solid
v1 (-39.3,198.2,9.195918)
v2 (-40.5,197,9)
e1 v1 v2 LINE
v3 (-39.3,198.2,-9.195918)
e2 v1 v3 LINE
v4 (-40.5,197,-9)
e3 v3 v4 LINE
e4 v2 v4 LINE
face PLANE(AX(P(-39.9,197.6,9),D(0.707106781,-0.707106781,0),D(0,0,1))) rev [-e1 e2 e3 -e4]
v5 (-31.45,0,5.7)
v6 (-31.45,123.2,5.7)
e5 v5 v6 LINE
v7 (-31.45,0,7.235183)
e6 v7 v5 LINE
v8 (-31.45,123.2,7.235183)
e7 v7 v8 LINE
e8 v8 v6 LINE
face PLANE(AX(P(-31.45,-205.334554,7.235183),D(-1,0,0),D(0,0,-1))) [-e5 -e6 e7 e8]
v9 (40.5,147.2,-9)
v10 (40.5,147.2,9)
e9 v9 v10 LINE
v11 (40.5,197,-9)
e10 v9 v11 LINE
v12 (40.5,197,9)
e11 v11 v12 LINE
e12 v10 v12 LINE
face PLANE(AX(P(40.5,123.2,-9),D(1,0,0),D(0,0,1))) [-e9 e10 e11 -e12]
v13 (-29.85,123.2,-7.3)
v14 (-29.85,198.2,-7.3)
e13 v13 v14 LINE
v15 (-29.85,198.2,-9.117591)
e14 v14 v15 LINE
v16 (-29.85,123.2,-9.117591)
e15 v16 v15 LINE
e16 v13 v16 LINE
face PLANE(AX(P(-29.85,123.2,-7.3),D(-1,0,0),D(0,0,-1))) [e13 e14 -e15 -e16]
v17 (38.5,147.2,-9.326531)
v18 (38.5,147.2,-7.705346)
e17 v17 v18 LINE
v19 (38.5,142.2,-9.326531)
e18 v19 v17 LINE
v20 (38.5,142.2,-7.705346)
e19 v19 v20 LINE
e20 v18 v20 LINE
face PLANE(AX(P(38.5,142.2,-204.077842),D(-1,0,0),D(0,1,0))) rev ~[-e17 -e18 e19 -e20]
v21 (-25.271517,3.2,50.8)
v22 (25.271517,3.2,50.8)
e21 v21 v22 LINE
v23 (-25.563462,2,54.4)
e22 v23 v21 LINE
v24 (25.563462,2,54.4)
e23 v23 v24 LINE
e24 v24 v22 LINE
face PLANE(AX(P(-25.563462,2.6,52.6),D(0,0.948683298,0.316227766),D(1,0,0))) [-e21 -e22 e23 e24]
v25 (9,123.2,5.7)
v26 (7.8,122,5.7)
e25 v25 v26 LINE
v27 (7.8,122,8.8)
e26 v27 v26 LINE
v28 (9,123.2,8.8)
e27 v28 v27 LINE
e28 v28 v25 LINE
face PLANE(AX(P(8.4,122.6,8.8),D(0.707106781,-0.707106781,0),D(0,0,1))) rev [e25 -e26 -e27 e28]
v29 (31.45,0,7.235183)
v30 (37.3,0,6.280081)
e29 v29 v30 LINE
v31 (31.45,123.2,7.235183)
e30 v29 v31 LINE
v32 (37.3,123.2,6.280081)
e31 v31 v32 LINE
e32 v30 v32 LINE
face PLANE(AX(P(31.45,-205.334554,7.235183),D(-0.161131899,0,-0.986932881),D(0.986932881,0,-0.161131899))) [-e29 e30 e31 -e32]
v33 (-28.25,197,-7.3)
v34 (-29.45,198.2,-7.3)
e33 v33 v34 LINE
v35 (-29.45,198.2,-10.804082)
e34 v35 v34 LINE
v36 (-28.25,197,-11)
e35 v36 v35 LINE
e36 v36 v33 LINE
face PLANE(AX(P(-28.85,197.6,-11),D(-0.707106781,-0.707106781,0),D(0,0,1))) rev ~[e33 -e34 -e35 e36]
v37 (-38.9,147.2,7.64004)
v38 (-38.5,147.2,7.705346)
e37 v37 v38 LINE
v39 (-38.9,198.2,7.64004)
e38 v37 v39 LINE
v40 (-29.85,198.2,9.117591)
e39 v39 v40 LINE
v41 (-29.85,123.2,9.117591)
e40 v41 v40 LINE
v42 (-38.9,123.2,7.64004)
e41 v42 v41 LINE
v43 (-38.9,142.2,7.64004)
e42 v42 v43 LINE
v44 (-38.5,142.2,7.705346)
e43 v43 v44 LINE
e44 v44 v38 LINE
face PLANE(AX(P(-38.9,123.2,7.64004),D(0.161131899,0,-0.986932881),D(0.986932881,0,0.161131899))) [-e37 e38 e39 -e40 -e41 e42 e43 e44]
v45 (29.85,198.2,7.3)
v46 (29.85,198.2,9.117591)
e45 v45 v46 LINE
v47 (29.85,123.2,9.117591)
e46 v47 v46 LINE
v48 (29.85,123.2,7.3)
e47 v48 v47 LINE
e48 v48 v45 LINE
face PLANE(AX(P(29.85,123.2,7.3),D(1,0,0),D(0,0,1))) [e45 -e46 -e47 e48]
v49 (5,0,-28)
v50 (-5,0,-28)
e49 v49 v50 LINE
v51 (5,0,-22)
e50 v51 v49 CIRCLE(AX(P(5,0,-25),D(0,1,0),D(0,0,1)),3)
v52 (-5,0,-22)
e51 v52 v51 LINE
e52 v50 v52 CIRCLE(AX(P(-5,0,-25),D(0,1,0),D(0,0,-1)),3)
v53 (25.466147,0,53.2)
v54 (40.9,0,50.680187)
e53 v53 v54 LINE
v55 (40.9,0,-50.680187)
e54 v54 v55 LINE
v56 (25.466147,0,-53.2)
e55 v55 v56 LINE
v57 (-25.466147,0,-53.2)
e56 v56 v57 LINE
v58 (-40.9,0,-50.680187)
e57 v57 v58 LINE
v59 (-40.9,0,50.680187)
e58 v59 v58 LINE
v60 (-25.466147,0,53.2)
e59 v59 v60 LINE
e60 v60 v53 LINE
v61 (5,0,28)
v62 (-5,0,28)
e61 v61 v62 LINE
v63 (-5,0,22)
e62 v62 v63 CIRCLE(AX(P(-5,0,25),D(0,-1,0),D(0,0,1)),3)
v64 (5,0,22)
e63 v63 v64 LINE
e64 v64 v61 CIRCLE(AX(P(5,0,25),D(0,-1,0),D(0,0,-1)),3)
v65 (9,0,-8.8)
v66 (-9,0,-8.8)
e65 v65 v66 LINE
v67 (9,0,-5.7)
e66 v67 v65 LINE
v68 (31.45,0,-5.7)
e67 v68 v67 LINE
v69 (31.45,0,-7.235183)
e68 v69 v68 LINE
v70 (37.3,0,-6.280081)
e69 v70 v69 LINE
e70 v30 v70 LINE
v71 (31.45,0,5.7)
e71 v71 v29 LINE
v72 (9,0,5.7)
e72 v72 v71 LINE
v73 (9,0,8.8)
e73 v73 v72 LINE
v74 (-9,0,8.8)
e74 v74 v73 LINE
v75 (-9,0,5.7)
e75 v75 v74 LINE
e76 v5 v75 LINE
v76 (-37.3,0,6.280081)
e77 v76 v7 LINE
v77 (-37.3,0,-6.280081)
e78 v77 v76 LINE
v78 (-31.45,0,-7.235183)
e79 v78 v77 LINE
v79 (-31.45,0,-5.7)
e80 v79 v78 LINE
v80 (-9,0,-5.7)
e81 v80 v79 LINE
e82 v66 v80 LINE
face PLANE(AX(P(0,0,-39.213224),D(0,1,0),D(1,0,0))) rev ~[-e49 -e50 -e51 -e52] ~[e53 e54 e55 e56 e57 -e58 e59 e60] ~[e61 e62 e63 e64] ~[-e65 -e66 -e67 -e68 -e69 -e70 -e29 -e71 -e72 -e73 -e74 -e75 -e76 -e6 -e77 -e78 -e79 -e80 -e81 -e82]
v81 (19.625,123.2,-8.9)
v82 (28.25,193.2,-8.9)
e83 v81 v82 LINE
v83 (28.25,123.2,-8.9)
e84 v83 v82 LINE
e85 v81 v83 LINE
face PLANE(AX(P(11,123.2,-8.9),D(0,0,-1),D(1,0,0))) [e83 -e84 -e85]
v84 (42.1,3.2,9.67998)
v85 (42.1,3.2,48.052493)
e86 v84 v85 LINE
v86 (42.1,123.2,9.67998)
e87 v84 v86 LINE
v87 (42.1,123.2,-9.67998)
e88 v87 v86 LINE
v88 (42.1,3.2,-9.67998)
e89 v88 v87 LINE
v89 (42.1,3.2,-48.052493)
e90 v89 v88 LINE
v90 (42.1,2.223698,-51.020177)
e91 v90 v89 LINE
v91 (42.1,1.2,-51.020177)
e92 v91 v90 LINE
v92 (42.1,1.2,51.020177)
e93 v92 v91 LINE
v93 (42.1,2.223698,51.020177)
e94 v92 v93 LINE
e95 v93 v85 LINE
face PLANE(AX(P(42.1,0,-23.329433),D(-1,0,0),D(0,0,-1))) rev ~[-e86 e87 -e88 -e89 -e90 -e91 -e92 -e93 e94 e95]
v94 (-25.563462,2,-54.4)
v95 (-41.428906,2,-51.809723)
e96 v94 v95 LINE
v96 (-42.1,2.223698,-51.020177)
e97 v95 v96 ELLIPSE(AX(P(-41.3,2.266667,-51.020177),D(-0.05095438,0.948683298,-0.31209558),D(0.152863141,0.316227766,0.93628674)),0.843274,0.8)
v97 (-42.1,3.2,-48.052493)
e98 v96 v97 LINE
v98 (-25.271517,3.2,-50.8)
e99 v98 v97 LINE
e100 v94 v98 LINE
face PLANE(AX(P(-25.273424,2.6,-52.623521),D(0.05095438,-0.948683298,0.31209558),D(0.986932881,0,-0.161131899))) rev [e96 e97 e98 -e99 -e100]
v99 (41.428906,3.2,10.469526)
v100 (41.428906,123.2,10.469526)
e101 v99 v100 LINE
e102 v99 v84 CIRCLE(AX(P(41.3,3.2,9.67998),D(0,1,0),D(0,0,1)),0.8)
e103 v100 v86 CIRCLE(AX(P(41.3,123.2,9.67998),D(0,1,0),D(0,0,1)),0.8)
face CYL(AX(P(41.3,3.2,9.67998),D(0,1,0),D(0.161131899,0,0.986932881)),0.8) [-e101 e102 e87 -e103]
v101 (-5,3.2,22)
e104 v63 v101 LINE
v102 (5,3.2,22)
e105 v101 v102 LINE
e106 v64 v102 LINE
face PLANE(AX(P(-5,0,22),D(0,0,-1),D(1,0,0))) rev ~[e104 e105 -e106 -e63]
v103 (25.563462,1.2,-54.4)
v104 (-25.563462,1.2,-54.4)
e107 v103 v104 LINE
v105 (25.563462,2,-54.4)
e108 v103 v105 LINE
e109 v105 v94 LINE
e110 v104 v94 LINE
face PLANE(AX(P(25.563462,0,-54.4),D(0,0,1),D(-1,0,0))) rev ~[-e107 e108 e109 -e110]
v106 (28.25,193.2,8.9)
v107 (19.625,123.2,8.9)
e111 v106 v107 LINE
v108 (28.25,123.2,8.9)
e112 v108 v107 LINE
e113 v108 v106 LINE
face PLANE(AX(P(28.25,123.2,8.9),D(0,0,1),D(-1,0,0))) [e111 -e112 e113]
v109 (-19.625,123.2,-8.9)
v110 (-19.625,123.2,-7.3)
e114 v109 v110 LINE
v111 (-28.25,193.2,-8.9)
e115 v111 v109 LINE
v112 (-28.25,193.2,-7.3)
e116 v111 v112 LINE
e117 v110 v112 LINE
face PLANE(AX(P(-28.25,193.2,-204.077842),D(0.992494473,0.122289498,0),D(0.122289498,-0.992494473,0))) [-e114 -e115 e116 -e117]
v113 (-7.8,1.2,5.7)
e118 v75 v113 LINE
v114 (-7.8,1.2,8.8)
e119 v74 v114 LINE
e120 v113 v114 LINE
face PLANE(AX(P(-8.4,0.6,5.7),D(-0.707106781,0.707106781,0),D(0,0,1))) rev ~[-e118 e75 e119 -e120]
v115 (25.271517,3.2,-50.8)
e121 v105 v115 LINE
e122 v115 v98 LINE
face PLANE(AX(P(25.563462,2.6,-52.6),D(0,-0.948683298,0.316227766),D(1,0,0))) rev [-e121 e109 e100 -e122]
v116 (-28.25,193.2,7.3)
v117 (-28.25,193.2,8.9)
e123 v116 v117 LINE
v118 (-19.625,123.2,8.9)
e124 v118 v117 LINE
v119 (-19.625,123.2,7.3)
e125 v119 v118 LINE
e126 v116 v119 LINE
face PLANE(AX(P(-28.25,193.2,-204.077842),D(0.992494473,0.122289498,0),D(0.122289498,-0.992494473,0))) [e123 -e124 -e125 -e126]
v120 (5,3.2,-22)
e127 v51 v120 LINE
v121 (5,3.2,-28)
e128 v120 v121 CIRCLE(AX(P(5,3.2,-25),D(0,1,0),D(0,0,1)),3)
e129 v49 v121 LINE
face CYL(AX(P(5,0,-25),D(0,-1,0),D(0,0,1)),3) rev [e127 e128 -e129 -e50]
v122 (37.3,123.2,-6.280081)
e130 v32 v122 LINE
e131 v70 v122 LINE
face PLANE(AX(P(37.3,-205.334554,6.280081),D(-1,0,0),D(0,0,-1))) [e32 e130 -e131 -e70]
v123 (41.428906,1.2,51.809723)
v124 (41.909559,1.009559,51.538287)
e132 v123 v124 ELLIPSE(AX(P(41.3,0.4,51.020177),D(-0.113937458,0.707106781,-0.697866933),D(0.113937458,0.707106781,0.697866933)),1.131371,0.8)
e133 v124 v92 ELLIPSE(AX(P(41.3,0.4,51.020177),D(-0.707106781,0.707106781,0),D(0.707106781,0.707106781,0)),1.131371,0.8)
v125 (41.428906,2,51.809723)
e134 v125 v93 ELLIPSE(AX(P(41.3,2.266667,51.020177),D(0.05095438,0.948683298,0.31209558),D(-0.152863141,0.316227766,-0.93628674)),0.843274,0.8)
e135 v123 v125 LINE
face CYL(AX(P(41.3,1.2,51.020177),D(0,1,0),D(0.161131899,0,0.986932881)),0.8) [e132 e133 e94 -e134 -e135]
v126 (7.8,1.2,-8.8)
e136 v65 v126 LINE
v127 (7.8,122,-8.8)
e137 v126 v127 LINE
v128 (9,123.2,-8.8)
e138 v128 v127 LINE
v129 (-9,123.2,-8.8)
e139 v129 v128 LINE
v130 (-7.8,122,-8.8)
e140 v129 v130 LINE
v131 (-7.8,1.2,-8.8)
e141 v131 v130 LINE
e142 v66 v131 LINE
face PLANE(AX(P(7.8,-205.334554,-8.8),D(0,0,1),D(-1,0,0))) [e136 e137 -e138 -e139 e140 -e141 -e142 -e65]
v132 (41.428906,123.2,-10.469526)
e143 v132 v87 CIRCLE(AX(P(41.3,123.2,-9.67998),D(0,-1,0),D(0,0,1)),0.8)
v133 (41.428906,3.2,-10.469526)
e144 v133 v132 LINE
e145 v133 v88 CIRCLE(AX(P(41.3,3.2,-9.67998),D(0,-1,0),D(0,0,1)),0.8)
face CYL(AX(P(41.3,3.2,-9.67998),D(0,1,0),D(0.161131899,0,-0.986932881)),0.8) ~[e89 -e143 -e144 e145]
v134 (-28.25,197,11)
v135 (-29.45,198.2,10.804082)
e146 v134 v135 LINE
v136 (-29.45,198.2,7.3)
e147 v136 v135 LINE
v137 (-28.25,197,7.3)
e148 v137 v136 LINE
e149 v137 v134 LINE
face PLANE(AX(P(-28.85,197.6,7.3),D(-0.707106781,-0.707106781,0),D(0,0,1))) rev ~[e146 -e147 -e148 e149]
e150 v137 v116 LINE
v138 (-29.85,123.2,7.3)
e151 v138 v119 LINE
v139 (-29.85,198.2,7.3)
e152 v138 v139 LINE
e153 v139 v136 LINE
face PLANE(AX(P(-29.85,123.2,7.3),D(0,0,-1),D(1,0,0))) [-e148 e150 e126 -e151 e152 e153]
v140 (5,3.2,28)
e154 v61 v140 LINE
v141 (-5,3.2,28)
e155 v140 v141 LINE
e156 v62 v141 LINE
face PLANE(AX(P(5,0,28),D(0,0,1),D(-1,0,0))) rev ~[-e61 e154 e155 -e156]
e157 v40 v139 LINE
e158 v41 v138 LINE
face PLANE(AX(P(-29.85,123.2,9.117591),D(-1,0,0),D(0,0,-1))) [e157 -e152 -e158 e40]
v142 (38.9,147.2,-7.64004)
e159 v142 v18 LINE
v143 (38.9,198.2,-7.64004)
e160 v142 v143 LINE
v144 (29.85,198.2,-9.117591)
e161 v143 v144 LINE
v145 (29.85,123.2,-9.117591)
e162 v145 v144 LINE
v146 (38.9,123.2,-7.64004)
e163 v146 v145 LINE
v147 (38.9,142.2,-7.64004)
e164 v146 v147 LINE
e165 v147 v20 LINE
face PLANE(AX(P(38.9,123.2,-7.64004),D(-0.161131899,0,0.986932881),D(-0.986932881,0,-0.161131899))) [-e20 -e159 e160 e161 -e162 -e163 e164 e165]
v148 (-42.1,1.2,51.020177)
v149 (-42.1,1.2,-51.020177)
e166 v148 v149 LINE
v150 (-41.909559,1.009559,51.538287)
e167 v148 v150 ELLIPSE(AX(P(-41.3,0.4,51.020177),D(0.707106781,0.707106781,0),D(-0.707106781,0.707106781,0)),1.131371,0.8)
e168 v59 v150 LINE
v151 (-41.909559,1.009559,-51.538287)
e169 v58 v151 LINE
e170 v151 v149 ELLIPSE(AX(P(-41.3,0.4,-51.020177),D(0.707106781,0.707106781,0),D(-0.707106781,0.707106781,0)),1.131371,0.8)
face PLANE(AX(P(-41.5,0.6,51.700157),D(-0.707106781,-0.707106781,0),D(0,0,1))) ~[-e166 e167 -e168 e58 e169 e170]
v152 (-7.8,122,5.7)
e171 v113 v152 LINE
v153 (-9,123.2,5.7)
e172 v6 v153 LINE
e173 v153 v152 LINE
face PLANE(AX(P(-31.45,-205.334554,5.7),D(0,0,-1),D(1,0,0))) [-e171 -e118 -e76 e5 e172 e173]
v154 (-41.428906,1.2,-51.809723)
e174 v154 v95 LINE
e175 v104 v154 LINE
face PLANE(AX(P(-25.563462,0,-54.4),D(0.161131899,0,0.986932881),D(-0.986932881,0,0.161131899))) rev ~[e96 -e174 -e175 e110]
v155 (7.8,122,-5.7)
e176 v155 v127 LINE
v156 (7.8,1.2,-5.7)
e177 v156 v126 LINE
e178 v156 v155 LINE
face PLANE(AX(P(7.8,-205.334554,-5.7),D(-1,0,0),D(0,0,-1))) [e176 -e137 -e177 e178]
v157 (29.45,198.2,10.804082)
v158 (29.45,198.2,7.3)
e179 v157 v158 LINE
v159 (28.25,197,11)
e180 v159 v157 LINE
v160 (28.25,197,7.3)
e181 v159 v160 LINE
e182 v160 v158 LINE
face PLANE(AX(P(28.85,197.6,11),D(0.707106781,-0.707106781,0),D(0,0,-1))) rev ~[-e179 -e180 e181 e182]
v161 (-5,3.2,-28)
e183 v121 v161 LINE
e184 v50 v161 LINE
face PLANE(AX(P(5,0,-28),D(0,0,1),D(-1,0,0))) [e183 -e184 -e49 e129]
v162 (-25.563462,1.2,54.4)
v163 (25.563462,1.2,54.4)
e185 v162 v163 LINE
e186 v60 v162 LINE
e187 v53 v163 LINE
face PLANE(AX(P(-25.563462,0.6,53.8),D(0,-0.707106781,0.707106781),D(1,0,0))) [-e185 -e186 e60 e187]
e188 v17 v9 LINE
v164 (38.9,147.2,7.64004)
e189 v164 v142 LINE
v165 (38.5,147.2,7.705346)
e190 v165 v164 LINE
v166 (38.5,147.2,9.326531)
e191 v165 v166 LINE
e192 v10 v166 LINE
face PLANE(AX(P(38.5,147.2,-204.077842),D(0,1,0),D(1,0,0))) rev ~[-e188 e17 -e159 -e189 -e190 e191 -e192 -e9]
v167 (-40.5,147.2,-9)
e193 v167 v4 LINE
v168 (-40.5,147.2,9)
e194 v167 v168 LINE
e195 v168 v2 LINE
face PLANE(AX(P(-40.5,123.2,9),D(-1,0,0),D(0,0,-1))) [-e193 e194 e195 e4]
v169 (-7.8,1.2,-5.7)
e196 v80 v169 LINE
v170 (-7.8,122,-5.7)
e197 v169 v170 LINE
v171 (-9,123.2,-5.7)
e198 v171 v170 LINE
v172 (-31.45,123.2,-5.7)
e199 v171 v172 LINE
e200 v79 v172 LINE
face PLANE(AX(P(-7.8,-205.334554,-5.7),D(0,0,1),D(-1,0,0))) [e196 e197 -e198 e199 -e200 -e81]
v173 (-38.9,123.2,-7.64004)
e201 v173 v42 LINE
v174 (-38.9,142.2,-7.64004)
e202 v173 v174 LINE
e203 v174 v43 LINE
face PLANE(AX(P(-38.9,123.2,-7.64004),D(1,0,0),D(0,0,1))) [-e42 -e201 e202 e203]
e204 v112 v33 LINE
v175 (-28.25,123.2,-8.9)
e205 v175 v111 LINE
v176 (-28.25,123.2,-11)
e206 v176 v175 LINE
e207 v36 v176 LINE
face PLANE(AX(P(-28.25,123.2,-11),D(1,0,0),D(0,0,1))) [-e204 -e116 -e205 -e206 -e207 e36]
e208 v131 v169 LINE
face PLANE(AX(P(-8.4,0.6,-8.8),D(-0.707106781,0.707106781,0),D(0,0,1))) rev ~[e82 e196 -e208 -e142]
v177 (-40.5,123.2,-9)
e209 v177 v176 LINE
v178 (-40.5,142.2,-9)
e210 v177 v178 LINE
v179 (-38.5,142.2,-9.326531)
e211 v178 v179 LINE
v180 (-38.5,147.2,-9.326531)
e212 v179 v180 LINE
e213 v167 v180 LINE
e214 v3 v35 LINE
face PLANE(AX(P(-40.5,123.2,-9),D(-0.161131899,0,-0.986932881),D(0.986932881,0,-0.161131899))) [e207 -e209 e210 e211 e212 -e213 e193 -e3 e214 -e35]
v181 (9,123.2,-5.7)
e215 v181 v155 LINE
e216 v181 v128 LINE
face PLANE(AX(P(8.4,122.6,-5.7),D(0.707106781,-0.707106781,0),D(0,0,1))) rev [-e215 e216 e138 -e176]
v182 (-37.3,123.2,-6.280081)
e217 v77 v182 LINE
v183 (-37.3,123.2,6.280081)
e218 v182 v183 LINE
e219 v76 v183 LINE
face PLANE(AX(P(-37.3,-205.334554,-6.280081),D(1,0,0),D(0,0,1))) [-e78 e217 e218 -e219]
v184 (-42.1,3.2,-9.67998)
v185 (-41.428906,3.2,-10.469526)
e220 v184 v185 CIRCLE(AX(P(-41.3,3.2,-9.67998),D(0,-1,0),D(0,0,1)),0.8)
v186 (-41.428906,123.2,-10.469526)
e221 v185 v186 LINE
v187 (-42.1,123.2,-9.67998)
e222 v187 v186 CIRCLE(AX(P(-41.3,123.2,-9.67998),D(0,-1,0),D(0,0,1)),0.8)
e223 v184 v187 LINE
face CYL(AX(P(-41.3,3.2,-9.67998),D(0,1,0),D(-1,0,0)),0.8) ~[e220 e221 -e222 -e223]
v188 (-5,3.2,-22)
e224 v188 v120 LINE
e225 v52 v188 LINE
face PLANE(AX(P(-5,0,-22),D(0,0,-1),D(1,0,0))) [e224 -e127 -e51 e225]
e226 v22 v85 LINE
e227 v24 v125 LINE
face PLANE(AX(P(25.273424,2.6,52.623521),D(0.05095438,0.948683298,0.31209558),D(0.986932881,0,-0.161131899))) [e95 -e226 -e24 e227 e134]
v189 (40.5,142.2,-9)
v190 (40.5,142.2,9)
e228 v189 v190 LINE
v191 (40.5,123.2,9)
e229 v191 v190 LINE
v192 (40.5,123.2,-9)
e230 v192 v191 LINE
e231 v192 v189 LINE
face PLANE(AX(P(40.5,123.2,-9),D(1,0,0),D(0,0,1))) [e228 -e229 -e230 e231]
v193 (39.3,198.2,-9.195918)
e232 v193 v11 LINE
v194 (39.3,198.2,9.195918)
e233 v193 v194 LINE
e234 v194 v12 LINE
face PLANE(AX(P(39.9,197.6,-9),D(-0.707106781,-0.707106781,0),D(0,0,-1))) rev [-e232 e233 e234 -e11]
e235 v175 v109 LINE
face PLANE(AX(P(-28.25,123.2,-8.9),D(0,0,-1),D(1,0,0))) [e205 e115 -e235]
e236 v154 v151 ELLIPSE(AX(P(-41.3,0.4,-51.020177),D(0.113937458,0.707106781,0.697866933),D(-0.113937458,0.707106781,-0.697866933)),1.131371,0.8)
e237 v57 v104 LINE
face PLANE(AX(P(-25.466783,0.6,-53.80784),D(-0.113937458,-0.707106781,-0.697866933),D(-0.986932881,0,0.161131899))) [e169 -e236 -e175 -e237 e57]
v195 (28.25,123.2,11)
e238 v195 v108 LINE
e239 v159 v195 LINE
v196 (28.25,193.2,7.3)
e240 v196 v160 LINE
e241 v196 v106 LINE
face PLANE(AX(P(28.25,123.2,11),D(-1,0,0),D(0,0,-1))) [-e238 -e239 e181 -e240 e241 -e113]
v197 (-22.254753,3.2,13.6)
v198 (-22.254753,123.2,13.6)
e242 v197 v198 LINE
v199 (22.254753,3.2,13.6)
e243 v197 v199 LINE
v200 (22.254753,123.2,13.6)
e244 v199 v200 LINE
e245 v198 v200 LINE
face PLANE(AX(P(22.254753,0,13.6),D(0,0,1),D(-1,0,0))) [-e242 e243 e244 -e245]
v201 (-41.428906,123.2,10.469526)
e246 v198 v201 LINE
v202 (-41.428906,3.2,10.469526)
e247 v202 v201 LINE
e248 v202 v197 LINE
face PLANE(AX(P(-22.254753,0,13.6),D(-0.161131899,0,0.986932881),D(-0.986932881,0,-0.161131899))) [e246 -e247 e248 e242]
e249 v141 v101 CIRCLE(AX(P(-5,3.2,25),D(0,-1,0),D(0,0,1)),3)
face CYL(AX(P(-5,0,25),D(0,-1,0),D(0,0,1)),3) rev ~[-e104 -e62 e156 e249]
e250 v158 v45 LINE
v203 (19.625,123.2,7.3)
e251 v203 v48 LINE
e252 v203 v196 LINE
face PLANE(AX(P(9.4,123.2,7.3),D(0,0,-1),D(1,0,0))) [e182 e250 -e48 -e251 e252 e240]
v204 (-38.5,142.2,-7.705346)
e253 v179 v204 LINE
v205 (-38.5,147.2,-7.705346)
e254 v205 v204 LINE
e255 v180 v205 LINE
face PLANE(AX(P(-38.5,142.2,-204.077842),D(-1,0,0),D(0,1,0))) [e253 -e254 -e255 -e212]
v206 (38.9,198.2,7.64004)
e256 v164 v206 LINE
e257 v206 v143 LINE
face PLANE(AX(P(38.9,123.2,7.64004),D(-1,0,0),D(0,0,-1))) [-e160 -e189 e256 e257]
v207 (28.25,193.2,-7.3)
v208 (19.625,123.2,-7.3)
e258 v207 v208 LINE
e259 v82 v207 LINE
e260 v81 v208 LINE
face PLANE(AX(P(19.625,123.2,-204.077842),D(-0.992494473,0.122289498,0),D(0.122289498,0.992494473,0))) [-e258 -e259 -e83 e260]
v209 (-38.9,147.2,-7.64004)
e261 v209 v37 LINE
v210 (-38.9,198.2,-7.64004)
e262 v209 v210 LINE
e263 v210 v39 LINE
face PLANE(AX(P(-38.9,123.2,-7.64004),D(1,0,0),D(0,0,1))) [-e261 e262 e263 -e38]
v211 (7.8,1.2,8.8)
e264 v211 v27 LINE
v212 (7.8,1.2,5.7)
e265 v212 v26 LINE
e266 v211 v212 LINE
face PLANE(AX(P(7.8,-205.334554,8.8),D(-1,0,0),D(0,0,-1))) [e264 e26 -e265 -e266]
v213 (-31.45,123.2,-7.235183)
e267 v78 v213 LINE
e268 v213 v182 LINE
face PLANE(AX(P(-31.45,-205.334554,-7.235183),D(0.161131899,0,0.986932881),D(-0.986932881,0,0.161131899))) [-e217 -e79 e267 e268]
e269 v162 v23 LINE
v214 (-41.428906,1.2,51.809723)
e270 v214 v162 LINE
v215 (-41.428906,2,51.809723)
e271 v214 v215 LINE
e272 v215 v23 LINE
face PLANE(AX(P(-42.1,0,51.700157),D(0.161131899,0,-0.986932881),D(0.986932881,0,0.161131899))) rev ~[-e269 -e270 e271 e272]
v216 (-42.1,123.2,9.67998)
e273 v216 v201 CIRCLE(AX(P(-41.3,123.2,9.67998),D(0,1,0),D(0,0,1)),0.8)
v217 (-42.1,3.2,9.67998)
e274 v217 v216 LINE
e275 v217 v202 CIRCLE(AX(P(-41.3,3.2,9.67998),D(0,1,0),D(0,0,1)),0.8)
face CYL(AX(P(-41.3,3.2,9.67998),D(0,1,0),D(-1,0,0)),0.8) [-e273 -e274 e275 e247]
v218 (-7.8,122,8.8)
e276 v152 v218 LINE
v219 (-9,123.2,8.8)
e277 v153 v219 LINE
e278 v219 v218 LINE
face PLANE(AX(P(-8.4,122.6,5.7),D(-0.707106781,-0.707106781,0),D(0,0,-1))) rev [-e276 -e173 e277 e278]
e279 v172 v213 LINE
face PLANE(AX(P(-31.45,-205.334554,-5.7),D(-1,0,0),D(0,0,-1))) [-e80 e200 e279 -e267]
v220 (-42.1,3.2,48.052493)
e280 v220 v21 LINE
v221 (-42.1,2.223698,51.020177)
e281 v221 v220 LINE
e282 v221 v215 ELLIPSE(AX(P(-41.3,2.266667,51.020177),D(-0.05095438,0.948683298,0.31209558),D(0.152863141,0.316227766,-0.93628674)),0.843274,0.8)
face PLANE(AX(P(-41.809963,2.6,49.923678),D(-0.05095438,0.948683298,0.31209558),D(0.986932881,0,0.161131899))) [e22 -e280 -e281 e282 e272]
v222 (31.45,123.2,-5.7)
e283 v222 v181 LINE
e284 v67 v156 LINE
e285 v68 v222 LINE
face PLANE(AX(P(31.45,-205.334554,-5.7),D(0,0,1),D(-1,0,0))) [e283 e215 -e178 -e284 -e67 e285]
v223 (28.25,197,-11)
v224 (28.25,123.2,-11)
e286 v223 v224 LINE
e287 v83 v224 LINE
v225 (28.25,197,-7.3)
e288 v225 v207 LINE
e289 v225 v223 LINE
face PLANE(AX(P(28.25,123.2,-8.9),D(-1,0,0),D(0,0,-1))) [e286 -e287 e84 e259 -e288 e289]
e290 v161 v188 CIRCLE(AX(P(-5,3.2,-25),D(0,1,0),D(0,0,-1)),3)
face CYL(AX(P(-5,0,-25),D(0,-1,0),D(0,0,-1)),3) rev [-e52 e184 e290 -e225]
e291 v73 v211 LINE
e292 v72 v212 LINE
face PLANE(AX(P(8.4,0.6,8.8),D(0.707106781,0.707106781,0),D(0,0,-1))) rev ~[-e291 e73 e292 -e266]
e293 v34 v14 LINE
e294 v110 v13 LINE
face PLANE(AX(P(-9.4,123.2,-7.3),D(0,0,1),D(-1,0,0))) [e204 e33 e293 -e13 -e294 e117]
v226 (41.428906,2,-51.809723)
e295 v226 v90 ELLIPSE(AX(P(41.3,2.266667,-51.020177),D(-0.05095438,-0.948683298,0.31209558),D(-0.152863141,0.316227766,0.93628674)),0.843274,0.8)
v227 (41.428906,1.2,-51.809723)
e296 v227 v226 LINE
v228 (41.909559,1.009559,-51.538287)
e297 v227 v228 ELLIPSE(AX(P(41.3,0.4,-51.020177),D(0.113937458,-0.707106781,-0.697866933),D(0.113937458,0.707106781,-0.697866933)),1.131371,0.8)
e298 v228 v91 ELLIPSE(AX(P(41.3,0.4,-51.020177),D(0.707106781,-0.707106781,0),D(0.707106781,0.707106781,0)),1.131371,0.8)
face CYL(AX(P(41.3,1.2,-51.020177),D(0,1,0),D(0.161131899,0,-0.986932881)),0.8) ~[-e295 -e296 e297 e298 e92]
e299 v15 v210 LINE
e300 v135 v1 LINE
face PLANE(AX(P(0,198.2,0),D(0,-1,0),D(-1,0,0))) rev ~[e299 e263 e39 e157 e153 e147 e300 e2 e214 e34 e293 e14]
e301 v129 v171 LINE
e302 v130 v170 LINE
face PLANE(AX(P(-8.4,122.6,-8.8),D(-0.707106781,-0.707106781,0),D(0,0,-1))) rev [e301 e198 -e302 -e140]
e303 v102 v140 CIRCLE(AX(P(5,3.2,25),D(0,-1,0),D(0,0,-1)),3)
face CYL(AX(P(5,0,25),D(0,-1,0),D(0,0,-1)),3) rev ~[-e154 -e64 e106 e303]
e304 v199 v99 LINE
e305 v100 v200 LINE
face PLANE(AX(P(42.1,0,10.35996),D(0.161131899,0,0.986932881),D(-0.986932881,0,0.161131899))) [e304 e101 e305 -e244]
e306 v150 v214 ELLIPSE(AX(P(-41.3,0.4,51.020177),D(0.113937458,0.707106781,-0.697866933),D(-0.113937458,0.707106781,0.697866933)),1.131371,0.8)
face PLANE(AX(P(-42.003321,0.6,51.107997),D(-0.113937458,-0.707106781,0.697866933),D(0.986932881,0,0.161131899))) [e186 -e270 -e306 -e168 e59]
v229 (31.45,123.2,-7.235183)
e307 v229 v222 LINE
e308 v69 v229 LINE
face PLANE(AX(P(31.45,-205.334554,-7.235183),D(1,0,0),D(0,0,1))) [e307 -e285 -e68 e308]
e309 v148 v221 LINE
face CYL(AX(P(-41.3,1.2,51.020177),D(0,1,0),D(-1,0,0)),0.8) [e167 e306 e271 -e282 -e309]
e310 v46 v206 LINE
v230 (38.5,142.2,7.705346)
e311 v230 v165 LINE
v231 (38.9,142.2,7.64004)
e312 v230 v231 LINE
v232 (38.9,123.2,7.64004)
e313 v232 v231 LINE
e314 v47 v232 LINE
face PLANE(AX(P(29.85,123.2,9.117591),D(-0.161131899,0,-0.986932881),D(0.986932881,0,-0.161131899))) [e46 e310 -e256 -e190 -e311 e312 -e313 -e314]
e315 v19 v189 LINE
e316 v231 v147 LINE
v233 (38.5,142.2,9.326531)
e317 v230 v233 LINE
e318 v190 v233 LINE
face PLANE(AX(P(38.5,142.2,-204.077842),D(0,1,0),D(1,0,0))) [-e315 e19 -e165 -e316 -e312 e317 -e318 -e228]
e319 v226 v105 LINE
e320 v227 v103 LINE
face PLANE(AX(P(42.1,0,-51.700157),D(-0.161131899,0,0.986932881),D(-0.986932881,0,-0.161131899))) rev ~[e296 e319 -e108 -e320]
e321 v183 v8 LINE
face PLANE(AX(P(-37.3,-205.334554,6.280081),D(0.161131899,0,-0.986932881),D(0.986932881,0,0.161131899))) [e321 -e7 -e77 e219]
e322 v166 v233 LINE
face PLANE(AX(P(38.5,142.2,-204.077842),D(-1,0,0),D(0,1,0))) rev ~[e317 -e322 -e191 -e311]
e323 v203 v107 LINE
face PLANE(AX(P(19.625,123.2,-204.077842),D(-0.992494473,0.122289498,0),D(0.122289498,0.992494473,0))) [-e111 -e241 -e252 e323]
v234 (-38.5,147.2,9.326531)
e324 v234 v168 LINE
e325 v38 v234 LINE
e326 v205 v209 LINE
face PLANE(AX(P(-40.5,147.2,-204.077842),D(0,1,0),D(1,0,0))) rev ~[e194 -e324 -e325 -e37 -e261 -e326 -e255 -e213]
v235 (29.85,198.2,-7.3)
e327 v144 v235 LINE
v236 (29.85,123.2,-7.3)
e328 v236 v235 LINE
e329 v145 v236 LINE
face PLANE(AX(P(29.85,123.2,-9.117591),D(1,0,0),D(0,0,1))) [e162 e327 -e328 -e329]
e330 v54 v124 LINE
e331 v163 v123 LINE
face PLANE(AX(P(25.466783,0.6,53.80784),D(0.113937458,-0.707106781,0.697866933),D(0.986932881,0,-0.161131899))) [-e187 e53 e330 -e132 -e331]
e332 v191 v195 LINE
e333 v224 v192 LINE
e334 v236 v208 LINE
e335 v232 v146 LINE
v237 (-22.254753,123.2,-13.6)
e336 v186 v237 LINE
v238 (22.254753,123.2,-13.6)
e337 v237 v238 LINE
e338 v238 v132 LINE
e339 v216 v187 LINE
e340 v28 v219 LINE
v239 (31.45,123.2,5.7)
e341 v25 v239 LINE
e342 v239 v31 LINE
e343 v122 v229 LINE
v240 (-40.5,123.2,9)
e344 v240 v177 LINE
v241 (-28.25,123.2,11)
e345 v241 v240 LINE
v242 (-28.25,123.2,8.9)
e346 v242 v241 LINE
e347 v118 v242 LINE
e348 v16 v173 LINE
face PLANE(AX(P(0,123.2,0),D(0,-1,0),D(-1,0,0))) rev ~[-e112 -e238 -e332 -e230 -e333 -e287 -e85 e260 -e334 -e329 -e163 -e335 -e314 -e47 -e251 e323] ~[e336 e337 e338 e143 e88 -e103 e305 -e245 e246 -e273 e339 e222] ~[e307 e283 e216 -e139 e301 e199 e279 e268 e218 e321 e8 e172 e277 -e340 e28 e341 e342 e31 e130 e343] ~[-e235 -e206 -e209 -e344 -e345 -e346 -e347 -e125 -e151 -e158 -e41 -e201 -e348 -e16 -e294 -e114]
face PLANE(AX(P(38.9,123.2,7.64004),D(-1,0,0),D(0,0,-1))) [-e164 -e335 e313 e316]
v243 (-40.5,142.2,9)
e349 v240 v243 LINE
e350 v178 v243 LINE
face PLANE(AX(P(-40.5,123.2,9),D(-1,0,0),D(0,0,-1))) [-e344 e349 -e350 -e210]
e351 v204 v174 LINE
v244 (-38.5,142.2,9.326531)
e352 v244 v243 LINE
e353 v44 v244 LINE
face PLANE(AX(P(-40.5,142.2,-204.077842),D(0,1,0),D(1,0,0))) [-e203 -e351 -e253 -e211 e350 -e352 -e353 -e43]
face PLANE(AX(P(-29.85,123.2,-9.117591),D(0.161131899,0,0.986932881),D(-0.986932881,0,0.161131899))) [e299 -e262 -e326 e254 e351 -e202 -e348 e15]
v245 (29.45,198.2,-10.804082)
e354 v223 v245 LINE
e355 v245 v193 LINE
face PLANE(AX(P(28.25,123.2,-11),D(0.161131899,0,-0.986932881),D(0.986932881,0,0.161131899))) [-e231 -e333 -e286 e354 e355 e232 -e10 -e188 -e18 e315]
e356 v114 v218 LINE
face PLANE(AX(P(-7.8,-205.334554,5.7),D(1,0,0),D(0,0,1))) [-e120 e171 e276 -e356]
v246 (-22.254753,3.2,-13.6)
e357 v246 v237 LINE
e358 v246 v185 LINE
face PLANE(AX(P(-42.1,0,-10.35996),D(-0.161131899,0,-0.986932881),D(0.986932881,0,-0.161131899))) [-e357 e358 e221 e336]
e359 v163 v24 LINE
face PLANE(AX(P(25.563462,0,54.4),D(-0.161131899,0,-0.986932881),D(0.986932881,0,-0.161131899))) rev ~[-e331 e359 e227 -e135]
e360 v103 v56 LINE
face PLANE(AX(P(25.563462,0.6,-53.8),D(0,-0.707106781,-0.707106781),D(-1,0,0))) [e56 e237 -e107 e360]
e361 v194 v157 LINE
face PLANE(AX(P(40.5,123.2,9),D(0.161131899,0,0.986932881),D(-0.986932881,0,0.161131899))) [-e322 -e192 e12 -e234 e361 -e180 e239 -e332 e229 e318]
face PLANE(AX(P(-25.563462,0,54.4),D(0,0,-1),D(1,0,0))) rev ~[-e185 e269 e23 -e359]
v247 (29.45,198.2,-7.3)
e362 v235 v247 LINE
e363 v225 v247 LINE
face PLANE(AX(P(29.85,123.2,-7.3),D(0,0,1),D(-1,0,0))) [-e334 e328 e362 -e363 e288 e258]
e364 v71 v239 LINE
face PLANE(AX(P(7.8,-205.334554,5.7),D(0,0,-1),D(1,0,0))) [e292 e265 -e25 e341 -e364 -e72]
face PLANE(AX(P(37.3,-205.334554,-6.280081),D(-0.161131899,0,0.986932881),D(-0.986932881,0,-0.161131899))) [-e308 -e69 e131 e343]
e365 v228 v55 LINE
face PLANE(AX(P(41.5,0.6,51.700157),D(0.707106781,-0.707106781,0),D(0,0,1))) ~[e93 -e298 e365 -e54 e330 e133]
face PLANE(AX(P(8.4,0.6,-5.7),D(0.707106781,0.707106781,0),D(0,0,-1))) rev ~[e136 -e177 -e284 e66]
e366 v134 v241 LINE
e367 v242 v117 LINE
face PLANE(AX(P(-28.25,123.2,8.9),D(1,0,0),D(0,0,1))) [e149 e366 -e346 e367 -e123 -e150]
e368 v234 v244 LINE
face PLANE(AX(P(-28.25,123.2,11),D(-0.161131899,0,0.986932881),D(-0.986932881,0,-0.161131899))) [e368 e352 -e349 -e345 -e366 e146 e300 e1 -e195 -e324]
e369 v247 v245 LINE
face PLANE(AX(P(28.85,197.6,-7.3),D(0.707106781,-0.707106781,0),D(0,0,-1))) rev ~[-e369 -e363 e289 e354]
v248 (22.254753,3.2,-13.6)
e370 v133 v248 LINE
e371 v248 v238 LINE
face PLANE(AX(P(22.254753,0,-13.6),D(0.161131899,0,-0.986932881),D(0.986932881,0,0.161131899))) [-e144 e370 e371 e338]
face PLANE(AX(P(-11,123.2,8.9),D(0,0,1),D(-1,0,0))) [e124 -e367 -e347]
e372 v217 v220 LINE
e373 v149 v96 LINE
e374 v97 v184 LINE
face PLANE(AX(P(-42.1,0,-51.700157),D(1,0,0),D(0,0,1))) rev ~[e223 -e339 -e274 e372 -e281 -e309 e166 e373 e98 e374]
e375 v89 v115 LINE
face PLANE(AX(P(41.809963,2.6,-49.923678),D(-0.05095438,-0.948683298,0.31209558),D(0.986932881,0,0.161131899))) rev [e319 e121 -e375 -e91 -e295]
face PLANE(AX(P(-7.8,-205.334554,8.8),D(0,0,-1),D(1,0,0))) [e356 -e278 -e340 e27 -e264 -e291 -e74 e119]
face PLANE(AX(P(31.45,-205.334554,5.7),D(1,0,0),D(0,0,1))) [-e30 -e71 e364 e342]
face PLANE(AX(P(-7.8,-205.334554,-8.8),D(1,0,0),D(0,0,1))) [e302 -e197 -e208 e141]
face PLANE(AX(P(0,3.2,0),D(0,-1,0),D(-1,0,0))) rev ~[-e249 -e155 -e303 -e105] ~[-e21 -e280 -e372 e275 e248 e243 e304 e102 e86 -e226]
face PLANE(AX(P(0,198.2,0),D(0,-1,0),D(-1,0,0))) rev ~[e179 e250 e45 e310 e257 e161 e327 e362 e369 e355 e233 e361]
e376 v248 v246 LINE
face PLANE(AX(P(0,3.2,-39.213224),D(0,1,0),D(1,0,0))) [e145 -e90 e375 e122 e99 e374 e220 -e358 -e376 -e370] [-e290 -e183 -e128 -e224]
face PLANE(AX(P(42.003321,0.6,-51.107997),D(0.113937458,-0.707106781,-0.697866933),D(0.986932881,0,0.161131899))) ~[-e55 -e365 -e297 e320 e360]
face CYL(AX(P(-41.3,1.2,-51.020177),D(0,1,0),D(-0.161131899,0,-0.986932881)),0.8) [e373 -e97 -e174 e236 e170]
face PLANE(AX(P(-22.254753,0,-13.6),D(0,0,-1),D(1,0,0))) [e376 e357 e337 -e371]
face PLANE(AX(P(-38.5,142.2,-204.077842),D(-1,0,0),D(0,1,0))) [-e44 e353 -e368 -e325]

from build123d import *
from OCP.BRepFilletAPI import BRepFilletAPI_MakeChamfer

# Parameters (mm, degrees)
BOSS_EXTRUDE1_DEPTH     = 123.2
BOSS_EXTRUDE2_START     = 123.2
BOSS_EXTRUDE2_DEPTH     = 75
CUT_EXTRUDE1_DEPTH      = 204.077842218
CUT_EXTRUDE1_DEPTH_BACK = 204.077842218
SKETCH2_W               = 2
SKETCH2_H               = 5
CUT_EXTRUDE2_DEPTH      = 204.077842218
CUT_EXTRUDE2_DEPTH_BACK = 204.077842218
BOSS_EXTRUDE3_DEPTH     = 3.2
CUT_EXTRUDE3_DEPTH      = 205.334554102
CUT_EXTRUDE3_DEPTH_BACK = 205.334554102
BOSS_EXTRUDE4_DEPTH     = 3.2
BOSS_EXTRUDE5_DEPTH     = 3.2
CUT_EXTRUDE4_DEPTH      = 3.2
CHAMFER1_SIZE           = 1.2
CHAMFER1_SIZE2          = 3.6
CHAMFER2_SIZE           = 1.2
FILLET1_R               = 0.8


with BuildPart() as part:
    # Sketch1 → Boss-Extrude1 (new body)
    with BuildSketch(Plane(origin=(0, 0, 0), x_dir=(1, 0, 0), z_dir=(0, 1, 0))):
        Polygon((-22.25475327, 13.6), (22.25475327, 13.6), (42.1, 10.359959718), (42.1, -10.359959718), (22.25475327, -13.6), (-22.25475327, -13.6), (-42.1, -10.359959718), (-42.1, 10.359959718), align=None)
    extrude(amount=BOSS_EXTRUDE1_DEPTH)

    # Sketch1<3> → Boss-Extrude2 (add)
    with BuildSketch(Plane(origin=(0, 0, 0), x_dir=(1, 0, 0), z_dir=(0, 1, 0)).offset(BOSS_EXTRUDE2_START)):
        Polygon((40.5, -9), (28.25, -11), (28.25, -8.9), (11, -8.9), (11, -12), (-11, -12), (-11, -8.9), (-28.25, -8.9), (-28.25, -11), (-40.5, -9), (-40.5, 9), (-28.25, 11), (-28.25, 8.9), (-11, 8.9), (-11, 12), (11, 12), (11, 8.9), (28.25, 8.9), (28.25, 11), (40.5, 9), align=None)
        Polygon((-38.9, -7.640040282), (-29.85, -9.117591303), (-29.85, -7.3), (-9.4, -7.3), (-9.4, -10.4), (9.4, -10.4), (9.4, -7.3), (29.85, -7.3), (29.85, -9.117591303), (38.9, -7.640040282), (38.9, 7.640040282), (29.85, 9.117591303), (29.85, 7.3), (9.4, 7.3), (9.4, 10.4), (-9.4, 10.4), (-9.4, 7.3), (-29.85, 7.3), (-29.85, 9.117591303), (-38.9, 7.640040282), align=None, mode=Mode.SUBTRACT)
    extrude(amount=BOSS_EXTRUDE2_DEPTH)

    # Sketch2 → Cut-Extrude1 (cut, two sides: drawn at the far end of the back side and taken through both)
    with BuildSketch(Plane.XY.offset(-CUT_EXTRUDE1_DEPTH_BACK)):
        with Locations((-39.5, 144.7)):
            Rectangle(SKETCH2_W, SKETCH2_H)
        with Locations((39.5, 144.7)):
            Rectangle(SKETCH2_W, SKETCH2_H)
    extrude(amount=CUT_EXTRUDE1_DEPTH + CUT_EXTRUDE1_DEPTH_BACK, mode=Mode.SUBTRACT)

    # Sketch3 → Cut-Extrude2 (cut, two sides: drawn at the far end of the back side and taken through both)
    with BuildSketch(Plane.XY.offset(-CUT_EXTRUDE2_DEPTH_BACK)):
        Polygon((-28.25, 193.2), (-19.625, 123.2), (19.625, 123.2), (28.25, 193.2), (28.25, 198.2), (-28.25, 198.2), align=None)
    extrude(amount=CUT_EXTRUDE2_DEPTH + CUT_EXTRUDE2_DEPTH_BACK, mode=Mode.SUBTRACT)

    # Sketch4 → Boss-Extrude3 (add)
    with BuildSketch(Plane(origin=(0, 0, 0), x_dir=(1, 0, 0), z_dir=(0, 1, 0))):
        Polygon((23.292779429, 26.4), (42.1, 23.329433376), (42.1, -23.329433376), (23.292779429, -26.4), (-23.292779429, -26.4), (-42.1, -23.329433376), (-42.1, 23.329433376), (-23.292779429, 26.4), align=None)
    extrude(amount=BOSS_EXTRUDE3_DEPTH)

    # Sketch1<4> → Cut-Extrude3 (cut, two sides: drawn at the far end of the back side and taken through both)
    with BuildSketch(Plane(origin=(0, 0, 0), x_dir=(1, 0, 0), z_dir=(0, 1, 0)).offset(-CUT_EXTRUDE3_DEPTH_BACK)):
        Polygon((-31.45, -5.7), (-7.8, -5.7), (-7.8, -8.8), (7.8, -8.8), (7.8, -5.7), (31.45, -5.7), (31.45, -7.235182606), (37.3, -6.280080565), (37.3, 6.280080565), (31.45, 7.235182606), (31.45, 5.7), (7.8, 5.7), (7.8, 8.8), (-7.8, 8.8), (-7.8, 5.7), (-31.45, 5.7), (-31.45, 7.235182606), (-37.3, 6.280080565), (-37.3, -6.280080565), (-31.45, -7.235182606), align=None)
    extrude(amount=CUT_EXTRUDE3_DEPTH + CUT_EXTRUDE3_DEPTH_BACK, mode=Mode.SUBTRACT)

    # Sketch5 → Boss-Extrude4 (add)
    with BuildSketch(Plane(origin=(0, 0, 0), x_dir=(1, 0, 0), z_dir=(0, 1, 0))):
        Polygon((23.292779429, 26.4), (42.1, 23.329433376), (42.1, 51.700157004), (25.563461651, 54.4), (-25.563461651, 54.4), (-42.1, 51.700157004), (-42.1, 23.329433376), (-23.292779429, 26.4), align=None)
        Polygon((-42.1, -23.329433376), (-42.1, -51.700157004), (-25.563461651, -54.4), (25.563461651, -54.4), (42.1, -51.700157004), (42.1, -23.329433376), (23.292779429, -26.4), (-23.292779429, -26.4), align=None)
    extrude(amount=BOSS_EXTRUDE4_DEPTH)

    # Sketch6 → Boss-Extrude5 (add)
    with BuildSketch(Plane(origin=(0, 0, 0), x_dir=(1, 0, 0), z_dir=(0, 1, 0))):
        Polygon((25.563461651, 54.4), (42.1, 51.700157004), (42.1, 48.100157004), (-42.1, 48.100157004), (-42.1, 51.700157004), (-25.563461651, 54.4), align=None)
        Polygon((42.1, -48.100157004), (42.1, -51.700157004), (25.563461651, -54.4), (-25.563461651, -54.4), (-42.1, -51.700157004), (-42.1, -48.100157004), align=None)
    extrude(amount=BOSS_EXTRUDE5_DEPTH)

    # Sketch7 → Cut-Extrude4 (cut)
    with BuildSketch(Plane(origin=(0, 0, 0), x_dir=(0, 0, -1), z_dir=(0, 1, 0))):
        with BuildLine():
            Line((28, -5), (28, 5))
            ThreePointArc((28, 5), (25, 8), (22, 5))
            Line((22, 5), (22, -5))
            ThreePointArc((22, -5), (25, -8), (28, -5))
        make_face()
        with BuildLine():
            Line((-28, -5), (-28, 5))
            ThreePointArc((-28, 5), (-25, 8), (-22, 5))
            Line((-22, 5), (-22, -5))
            ThreePointArc((-22, -5), (-25, -8), (-28, -5))
        make_face()
    extrude(amount=CUT_EXTRUDE4_DEPTH, mode=Mode.SUBTRACT)

    # Chamfer1: one chamfer whose edges measure the first distance from different faces: ONE call of the kernel's chamfer builder (chamfer() names one face for all edges)
    chamfer1_edges_1 = [part.edges().sort_by_distance(p)[0] for p in [
        (-33.831730825, 3.2, 53.050078502),
    ]]
    chamfer1_side_1 = [part.faces().sort_by_distance(p)[0] for p in [
        (-33.831730825, 1.6, 53.050078502),
    ]]
    chamfer1_edges_2 = [part.edges().sort_by_distance(p)[0] for p in [
        (0, 3.2, 54.4),
    ]]
    chamfer1_side_2 = [part.faces().sort_by_distance(p)[0] for p in [
        (0, 1.6, 54.4),
    ]]
    chamfer1_edges_3 = [part.edges().sort_by_distance(p)[0] for p in [
        (33.831730825, 3.2, 53.050078502),
    ]]
    chamfer1_side_3 = [part.faces().sort_by_distance(p)[0] for p in [
        (33.831730825, 1.6, 53.050078502),
    ]]
    chamfer1_edges_4 = [part.edges().sort_by_distance(p)[0] for p in [
        (33.831730825, 3.2, -53.050078502),
    ]]
    chamfer1_side_4 = [part.faces().sort_by_distance(p)[0] for p in [
        (33.831730825, 1.6, -53.050078502),
    ]]
    chamfer1_edges_5 = [part.edges().sort_by_distance(p)[0] for p in [
        (0, 3.2, -54.4),
    ]]
    chamfer1_side_5 = [part.faces().sort_by_distance(p)[0] for p in [
        (0, 1.6, -54.4),
    ]]
    chamfer1_edges_6 = [part.edges().sort_by_distance(p)[0] for p in [
        (-33.831730825, 3.2, -53.050078502),
    ]]
    chamfer1_side_6 = [part.faces().sort_by_distance(p)[0] for p in [
        (-33.831730825, 1.6, -53.050078502),
    ]]
    chamfer1 = BRepFilletAPI_MakeChamfer(part.part.solid().wrapped)
    for e in chamfer1_edges_1:
        chamfer1.Add(CHAMFER1_SIZE, CHAMFER1_SIZE2, e.wrapped, chamfer1_side_1[0].wrapped)  # the first distance lies on this face
    for e in chamfer1_edges_2:
        chamfer1.Add(CHAMFER1_SIZE, CHAMFER1_SIZE2, e.wrapped, chamfer1_side_2[0].wrapped)  # the first distance lies on this face
    for e in chamfer1_edges_3:
        chamfer1.Add(CHAMFER1_SIZE, CHAMFER1_SIZE2, e.wrapped, chamfer1_side_3[0].wrapped)  # the first distance lies on this face
    for e in chamfer1_edges_4:
        chamfer1.Add(CHAMFER1_SIZE, CHAMFER1_SIZE2, e.wrapped, chamfer1_side_4[0].wrapped)  # the first distance lies on this face
    for e in chamfer1_edges_5:
        chamfer1.Add(CHAMFER1_SIZE, CHAMFER1_SIZE2, e.wrapped, chamfer1_side_5[0].wrapped)  # the first distance lies on this face
    for e in chamfer1_edges_6:
        chamfer1.Add(CHAMFER1_SIZE, CHAMFER1_SIZE2, e.wrapped, chamfer1_side_6[0].wrapped)  # the first distance lies on this face
    add(Compound.cast(chamfer1.Shape()), mode=Mode.REPLACE)

    # Chamfer2
    chamfer2_edges = [part.edges().sort_by_distance(p)[0] for p in [
        (-42.1, 0, 0),
        (-7.8, 123.2, 7.25),
        (7.8, 123.2, 7.25),
        (7.8, 123.2, -7.25),
        (-7.8, 123.2, -7.25),
        (-7.8, 0, -7.25),
        (7.8, 0, -7.25),
        (7.8, 0, 7.25),
        (-7.8, 0, 7.25),
        (40.5, 198.2, 0),
        (28.25, 198.2, -9.15),
        (-28.25, 198.2, 9.15),
        (0, 0, 54.4),
        (33.831730825, 0, 53.050078502),
        (-33.831730825, 0, 53.050078502),
        (33.831730825, 0, -53.050078502),
        (0, 0, -54.4),
        (-33.831730825, 0, -53.050078502),
        (28.25, 198.2, 9.15),
        (-28.25, 198.2, -9.15),
        (-40.5, 198.2, 0),
        (42.1, 0, 0),
    ]]
    chamfer(chamfer2_edges, length=CHAMFER2_SIZE)

    # Fillet1
    fillet1_edges = [part.edges().sort_by_distance(p)[0] for p in [
        (-42.1, 63.2, 10.359959718),
        (42.1, 63.2, 10.359959718),
        (42.1, 63.2, -10.359959718),
        (-42.1, 63.2, -10.359959718),
        (-42.1, 1.6, 51.700157004),
        (-42.1, 1.6, -51.700157004),
        (42.1, 1.6, -51.700157004),
        (42.1, 1.6, 51.700157004),
    ]]
    fillet(fillet1_edges, radius=FILLET1_R)


solid = part.part
